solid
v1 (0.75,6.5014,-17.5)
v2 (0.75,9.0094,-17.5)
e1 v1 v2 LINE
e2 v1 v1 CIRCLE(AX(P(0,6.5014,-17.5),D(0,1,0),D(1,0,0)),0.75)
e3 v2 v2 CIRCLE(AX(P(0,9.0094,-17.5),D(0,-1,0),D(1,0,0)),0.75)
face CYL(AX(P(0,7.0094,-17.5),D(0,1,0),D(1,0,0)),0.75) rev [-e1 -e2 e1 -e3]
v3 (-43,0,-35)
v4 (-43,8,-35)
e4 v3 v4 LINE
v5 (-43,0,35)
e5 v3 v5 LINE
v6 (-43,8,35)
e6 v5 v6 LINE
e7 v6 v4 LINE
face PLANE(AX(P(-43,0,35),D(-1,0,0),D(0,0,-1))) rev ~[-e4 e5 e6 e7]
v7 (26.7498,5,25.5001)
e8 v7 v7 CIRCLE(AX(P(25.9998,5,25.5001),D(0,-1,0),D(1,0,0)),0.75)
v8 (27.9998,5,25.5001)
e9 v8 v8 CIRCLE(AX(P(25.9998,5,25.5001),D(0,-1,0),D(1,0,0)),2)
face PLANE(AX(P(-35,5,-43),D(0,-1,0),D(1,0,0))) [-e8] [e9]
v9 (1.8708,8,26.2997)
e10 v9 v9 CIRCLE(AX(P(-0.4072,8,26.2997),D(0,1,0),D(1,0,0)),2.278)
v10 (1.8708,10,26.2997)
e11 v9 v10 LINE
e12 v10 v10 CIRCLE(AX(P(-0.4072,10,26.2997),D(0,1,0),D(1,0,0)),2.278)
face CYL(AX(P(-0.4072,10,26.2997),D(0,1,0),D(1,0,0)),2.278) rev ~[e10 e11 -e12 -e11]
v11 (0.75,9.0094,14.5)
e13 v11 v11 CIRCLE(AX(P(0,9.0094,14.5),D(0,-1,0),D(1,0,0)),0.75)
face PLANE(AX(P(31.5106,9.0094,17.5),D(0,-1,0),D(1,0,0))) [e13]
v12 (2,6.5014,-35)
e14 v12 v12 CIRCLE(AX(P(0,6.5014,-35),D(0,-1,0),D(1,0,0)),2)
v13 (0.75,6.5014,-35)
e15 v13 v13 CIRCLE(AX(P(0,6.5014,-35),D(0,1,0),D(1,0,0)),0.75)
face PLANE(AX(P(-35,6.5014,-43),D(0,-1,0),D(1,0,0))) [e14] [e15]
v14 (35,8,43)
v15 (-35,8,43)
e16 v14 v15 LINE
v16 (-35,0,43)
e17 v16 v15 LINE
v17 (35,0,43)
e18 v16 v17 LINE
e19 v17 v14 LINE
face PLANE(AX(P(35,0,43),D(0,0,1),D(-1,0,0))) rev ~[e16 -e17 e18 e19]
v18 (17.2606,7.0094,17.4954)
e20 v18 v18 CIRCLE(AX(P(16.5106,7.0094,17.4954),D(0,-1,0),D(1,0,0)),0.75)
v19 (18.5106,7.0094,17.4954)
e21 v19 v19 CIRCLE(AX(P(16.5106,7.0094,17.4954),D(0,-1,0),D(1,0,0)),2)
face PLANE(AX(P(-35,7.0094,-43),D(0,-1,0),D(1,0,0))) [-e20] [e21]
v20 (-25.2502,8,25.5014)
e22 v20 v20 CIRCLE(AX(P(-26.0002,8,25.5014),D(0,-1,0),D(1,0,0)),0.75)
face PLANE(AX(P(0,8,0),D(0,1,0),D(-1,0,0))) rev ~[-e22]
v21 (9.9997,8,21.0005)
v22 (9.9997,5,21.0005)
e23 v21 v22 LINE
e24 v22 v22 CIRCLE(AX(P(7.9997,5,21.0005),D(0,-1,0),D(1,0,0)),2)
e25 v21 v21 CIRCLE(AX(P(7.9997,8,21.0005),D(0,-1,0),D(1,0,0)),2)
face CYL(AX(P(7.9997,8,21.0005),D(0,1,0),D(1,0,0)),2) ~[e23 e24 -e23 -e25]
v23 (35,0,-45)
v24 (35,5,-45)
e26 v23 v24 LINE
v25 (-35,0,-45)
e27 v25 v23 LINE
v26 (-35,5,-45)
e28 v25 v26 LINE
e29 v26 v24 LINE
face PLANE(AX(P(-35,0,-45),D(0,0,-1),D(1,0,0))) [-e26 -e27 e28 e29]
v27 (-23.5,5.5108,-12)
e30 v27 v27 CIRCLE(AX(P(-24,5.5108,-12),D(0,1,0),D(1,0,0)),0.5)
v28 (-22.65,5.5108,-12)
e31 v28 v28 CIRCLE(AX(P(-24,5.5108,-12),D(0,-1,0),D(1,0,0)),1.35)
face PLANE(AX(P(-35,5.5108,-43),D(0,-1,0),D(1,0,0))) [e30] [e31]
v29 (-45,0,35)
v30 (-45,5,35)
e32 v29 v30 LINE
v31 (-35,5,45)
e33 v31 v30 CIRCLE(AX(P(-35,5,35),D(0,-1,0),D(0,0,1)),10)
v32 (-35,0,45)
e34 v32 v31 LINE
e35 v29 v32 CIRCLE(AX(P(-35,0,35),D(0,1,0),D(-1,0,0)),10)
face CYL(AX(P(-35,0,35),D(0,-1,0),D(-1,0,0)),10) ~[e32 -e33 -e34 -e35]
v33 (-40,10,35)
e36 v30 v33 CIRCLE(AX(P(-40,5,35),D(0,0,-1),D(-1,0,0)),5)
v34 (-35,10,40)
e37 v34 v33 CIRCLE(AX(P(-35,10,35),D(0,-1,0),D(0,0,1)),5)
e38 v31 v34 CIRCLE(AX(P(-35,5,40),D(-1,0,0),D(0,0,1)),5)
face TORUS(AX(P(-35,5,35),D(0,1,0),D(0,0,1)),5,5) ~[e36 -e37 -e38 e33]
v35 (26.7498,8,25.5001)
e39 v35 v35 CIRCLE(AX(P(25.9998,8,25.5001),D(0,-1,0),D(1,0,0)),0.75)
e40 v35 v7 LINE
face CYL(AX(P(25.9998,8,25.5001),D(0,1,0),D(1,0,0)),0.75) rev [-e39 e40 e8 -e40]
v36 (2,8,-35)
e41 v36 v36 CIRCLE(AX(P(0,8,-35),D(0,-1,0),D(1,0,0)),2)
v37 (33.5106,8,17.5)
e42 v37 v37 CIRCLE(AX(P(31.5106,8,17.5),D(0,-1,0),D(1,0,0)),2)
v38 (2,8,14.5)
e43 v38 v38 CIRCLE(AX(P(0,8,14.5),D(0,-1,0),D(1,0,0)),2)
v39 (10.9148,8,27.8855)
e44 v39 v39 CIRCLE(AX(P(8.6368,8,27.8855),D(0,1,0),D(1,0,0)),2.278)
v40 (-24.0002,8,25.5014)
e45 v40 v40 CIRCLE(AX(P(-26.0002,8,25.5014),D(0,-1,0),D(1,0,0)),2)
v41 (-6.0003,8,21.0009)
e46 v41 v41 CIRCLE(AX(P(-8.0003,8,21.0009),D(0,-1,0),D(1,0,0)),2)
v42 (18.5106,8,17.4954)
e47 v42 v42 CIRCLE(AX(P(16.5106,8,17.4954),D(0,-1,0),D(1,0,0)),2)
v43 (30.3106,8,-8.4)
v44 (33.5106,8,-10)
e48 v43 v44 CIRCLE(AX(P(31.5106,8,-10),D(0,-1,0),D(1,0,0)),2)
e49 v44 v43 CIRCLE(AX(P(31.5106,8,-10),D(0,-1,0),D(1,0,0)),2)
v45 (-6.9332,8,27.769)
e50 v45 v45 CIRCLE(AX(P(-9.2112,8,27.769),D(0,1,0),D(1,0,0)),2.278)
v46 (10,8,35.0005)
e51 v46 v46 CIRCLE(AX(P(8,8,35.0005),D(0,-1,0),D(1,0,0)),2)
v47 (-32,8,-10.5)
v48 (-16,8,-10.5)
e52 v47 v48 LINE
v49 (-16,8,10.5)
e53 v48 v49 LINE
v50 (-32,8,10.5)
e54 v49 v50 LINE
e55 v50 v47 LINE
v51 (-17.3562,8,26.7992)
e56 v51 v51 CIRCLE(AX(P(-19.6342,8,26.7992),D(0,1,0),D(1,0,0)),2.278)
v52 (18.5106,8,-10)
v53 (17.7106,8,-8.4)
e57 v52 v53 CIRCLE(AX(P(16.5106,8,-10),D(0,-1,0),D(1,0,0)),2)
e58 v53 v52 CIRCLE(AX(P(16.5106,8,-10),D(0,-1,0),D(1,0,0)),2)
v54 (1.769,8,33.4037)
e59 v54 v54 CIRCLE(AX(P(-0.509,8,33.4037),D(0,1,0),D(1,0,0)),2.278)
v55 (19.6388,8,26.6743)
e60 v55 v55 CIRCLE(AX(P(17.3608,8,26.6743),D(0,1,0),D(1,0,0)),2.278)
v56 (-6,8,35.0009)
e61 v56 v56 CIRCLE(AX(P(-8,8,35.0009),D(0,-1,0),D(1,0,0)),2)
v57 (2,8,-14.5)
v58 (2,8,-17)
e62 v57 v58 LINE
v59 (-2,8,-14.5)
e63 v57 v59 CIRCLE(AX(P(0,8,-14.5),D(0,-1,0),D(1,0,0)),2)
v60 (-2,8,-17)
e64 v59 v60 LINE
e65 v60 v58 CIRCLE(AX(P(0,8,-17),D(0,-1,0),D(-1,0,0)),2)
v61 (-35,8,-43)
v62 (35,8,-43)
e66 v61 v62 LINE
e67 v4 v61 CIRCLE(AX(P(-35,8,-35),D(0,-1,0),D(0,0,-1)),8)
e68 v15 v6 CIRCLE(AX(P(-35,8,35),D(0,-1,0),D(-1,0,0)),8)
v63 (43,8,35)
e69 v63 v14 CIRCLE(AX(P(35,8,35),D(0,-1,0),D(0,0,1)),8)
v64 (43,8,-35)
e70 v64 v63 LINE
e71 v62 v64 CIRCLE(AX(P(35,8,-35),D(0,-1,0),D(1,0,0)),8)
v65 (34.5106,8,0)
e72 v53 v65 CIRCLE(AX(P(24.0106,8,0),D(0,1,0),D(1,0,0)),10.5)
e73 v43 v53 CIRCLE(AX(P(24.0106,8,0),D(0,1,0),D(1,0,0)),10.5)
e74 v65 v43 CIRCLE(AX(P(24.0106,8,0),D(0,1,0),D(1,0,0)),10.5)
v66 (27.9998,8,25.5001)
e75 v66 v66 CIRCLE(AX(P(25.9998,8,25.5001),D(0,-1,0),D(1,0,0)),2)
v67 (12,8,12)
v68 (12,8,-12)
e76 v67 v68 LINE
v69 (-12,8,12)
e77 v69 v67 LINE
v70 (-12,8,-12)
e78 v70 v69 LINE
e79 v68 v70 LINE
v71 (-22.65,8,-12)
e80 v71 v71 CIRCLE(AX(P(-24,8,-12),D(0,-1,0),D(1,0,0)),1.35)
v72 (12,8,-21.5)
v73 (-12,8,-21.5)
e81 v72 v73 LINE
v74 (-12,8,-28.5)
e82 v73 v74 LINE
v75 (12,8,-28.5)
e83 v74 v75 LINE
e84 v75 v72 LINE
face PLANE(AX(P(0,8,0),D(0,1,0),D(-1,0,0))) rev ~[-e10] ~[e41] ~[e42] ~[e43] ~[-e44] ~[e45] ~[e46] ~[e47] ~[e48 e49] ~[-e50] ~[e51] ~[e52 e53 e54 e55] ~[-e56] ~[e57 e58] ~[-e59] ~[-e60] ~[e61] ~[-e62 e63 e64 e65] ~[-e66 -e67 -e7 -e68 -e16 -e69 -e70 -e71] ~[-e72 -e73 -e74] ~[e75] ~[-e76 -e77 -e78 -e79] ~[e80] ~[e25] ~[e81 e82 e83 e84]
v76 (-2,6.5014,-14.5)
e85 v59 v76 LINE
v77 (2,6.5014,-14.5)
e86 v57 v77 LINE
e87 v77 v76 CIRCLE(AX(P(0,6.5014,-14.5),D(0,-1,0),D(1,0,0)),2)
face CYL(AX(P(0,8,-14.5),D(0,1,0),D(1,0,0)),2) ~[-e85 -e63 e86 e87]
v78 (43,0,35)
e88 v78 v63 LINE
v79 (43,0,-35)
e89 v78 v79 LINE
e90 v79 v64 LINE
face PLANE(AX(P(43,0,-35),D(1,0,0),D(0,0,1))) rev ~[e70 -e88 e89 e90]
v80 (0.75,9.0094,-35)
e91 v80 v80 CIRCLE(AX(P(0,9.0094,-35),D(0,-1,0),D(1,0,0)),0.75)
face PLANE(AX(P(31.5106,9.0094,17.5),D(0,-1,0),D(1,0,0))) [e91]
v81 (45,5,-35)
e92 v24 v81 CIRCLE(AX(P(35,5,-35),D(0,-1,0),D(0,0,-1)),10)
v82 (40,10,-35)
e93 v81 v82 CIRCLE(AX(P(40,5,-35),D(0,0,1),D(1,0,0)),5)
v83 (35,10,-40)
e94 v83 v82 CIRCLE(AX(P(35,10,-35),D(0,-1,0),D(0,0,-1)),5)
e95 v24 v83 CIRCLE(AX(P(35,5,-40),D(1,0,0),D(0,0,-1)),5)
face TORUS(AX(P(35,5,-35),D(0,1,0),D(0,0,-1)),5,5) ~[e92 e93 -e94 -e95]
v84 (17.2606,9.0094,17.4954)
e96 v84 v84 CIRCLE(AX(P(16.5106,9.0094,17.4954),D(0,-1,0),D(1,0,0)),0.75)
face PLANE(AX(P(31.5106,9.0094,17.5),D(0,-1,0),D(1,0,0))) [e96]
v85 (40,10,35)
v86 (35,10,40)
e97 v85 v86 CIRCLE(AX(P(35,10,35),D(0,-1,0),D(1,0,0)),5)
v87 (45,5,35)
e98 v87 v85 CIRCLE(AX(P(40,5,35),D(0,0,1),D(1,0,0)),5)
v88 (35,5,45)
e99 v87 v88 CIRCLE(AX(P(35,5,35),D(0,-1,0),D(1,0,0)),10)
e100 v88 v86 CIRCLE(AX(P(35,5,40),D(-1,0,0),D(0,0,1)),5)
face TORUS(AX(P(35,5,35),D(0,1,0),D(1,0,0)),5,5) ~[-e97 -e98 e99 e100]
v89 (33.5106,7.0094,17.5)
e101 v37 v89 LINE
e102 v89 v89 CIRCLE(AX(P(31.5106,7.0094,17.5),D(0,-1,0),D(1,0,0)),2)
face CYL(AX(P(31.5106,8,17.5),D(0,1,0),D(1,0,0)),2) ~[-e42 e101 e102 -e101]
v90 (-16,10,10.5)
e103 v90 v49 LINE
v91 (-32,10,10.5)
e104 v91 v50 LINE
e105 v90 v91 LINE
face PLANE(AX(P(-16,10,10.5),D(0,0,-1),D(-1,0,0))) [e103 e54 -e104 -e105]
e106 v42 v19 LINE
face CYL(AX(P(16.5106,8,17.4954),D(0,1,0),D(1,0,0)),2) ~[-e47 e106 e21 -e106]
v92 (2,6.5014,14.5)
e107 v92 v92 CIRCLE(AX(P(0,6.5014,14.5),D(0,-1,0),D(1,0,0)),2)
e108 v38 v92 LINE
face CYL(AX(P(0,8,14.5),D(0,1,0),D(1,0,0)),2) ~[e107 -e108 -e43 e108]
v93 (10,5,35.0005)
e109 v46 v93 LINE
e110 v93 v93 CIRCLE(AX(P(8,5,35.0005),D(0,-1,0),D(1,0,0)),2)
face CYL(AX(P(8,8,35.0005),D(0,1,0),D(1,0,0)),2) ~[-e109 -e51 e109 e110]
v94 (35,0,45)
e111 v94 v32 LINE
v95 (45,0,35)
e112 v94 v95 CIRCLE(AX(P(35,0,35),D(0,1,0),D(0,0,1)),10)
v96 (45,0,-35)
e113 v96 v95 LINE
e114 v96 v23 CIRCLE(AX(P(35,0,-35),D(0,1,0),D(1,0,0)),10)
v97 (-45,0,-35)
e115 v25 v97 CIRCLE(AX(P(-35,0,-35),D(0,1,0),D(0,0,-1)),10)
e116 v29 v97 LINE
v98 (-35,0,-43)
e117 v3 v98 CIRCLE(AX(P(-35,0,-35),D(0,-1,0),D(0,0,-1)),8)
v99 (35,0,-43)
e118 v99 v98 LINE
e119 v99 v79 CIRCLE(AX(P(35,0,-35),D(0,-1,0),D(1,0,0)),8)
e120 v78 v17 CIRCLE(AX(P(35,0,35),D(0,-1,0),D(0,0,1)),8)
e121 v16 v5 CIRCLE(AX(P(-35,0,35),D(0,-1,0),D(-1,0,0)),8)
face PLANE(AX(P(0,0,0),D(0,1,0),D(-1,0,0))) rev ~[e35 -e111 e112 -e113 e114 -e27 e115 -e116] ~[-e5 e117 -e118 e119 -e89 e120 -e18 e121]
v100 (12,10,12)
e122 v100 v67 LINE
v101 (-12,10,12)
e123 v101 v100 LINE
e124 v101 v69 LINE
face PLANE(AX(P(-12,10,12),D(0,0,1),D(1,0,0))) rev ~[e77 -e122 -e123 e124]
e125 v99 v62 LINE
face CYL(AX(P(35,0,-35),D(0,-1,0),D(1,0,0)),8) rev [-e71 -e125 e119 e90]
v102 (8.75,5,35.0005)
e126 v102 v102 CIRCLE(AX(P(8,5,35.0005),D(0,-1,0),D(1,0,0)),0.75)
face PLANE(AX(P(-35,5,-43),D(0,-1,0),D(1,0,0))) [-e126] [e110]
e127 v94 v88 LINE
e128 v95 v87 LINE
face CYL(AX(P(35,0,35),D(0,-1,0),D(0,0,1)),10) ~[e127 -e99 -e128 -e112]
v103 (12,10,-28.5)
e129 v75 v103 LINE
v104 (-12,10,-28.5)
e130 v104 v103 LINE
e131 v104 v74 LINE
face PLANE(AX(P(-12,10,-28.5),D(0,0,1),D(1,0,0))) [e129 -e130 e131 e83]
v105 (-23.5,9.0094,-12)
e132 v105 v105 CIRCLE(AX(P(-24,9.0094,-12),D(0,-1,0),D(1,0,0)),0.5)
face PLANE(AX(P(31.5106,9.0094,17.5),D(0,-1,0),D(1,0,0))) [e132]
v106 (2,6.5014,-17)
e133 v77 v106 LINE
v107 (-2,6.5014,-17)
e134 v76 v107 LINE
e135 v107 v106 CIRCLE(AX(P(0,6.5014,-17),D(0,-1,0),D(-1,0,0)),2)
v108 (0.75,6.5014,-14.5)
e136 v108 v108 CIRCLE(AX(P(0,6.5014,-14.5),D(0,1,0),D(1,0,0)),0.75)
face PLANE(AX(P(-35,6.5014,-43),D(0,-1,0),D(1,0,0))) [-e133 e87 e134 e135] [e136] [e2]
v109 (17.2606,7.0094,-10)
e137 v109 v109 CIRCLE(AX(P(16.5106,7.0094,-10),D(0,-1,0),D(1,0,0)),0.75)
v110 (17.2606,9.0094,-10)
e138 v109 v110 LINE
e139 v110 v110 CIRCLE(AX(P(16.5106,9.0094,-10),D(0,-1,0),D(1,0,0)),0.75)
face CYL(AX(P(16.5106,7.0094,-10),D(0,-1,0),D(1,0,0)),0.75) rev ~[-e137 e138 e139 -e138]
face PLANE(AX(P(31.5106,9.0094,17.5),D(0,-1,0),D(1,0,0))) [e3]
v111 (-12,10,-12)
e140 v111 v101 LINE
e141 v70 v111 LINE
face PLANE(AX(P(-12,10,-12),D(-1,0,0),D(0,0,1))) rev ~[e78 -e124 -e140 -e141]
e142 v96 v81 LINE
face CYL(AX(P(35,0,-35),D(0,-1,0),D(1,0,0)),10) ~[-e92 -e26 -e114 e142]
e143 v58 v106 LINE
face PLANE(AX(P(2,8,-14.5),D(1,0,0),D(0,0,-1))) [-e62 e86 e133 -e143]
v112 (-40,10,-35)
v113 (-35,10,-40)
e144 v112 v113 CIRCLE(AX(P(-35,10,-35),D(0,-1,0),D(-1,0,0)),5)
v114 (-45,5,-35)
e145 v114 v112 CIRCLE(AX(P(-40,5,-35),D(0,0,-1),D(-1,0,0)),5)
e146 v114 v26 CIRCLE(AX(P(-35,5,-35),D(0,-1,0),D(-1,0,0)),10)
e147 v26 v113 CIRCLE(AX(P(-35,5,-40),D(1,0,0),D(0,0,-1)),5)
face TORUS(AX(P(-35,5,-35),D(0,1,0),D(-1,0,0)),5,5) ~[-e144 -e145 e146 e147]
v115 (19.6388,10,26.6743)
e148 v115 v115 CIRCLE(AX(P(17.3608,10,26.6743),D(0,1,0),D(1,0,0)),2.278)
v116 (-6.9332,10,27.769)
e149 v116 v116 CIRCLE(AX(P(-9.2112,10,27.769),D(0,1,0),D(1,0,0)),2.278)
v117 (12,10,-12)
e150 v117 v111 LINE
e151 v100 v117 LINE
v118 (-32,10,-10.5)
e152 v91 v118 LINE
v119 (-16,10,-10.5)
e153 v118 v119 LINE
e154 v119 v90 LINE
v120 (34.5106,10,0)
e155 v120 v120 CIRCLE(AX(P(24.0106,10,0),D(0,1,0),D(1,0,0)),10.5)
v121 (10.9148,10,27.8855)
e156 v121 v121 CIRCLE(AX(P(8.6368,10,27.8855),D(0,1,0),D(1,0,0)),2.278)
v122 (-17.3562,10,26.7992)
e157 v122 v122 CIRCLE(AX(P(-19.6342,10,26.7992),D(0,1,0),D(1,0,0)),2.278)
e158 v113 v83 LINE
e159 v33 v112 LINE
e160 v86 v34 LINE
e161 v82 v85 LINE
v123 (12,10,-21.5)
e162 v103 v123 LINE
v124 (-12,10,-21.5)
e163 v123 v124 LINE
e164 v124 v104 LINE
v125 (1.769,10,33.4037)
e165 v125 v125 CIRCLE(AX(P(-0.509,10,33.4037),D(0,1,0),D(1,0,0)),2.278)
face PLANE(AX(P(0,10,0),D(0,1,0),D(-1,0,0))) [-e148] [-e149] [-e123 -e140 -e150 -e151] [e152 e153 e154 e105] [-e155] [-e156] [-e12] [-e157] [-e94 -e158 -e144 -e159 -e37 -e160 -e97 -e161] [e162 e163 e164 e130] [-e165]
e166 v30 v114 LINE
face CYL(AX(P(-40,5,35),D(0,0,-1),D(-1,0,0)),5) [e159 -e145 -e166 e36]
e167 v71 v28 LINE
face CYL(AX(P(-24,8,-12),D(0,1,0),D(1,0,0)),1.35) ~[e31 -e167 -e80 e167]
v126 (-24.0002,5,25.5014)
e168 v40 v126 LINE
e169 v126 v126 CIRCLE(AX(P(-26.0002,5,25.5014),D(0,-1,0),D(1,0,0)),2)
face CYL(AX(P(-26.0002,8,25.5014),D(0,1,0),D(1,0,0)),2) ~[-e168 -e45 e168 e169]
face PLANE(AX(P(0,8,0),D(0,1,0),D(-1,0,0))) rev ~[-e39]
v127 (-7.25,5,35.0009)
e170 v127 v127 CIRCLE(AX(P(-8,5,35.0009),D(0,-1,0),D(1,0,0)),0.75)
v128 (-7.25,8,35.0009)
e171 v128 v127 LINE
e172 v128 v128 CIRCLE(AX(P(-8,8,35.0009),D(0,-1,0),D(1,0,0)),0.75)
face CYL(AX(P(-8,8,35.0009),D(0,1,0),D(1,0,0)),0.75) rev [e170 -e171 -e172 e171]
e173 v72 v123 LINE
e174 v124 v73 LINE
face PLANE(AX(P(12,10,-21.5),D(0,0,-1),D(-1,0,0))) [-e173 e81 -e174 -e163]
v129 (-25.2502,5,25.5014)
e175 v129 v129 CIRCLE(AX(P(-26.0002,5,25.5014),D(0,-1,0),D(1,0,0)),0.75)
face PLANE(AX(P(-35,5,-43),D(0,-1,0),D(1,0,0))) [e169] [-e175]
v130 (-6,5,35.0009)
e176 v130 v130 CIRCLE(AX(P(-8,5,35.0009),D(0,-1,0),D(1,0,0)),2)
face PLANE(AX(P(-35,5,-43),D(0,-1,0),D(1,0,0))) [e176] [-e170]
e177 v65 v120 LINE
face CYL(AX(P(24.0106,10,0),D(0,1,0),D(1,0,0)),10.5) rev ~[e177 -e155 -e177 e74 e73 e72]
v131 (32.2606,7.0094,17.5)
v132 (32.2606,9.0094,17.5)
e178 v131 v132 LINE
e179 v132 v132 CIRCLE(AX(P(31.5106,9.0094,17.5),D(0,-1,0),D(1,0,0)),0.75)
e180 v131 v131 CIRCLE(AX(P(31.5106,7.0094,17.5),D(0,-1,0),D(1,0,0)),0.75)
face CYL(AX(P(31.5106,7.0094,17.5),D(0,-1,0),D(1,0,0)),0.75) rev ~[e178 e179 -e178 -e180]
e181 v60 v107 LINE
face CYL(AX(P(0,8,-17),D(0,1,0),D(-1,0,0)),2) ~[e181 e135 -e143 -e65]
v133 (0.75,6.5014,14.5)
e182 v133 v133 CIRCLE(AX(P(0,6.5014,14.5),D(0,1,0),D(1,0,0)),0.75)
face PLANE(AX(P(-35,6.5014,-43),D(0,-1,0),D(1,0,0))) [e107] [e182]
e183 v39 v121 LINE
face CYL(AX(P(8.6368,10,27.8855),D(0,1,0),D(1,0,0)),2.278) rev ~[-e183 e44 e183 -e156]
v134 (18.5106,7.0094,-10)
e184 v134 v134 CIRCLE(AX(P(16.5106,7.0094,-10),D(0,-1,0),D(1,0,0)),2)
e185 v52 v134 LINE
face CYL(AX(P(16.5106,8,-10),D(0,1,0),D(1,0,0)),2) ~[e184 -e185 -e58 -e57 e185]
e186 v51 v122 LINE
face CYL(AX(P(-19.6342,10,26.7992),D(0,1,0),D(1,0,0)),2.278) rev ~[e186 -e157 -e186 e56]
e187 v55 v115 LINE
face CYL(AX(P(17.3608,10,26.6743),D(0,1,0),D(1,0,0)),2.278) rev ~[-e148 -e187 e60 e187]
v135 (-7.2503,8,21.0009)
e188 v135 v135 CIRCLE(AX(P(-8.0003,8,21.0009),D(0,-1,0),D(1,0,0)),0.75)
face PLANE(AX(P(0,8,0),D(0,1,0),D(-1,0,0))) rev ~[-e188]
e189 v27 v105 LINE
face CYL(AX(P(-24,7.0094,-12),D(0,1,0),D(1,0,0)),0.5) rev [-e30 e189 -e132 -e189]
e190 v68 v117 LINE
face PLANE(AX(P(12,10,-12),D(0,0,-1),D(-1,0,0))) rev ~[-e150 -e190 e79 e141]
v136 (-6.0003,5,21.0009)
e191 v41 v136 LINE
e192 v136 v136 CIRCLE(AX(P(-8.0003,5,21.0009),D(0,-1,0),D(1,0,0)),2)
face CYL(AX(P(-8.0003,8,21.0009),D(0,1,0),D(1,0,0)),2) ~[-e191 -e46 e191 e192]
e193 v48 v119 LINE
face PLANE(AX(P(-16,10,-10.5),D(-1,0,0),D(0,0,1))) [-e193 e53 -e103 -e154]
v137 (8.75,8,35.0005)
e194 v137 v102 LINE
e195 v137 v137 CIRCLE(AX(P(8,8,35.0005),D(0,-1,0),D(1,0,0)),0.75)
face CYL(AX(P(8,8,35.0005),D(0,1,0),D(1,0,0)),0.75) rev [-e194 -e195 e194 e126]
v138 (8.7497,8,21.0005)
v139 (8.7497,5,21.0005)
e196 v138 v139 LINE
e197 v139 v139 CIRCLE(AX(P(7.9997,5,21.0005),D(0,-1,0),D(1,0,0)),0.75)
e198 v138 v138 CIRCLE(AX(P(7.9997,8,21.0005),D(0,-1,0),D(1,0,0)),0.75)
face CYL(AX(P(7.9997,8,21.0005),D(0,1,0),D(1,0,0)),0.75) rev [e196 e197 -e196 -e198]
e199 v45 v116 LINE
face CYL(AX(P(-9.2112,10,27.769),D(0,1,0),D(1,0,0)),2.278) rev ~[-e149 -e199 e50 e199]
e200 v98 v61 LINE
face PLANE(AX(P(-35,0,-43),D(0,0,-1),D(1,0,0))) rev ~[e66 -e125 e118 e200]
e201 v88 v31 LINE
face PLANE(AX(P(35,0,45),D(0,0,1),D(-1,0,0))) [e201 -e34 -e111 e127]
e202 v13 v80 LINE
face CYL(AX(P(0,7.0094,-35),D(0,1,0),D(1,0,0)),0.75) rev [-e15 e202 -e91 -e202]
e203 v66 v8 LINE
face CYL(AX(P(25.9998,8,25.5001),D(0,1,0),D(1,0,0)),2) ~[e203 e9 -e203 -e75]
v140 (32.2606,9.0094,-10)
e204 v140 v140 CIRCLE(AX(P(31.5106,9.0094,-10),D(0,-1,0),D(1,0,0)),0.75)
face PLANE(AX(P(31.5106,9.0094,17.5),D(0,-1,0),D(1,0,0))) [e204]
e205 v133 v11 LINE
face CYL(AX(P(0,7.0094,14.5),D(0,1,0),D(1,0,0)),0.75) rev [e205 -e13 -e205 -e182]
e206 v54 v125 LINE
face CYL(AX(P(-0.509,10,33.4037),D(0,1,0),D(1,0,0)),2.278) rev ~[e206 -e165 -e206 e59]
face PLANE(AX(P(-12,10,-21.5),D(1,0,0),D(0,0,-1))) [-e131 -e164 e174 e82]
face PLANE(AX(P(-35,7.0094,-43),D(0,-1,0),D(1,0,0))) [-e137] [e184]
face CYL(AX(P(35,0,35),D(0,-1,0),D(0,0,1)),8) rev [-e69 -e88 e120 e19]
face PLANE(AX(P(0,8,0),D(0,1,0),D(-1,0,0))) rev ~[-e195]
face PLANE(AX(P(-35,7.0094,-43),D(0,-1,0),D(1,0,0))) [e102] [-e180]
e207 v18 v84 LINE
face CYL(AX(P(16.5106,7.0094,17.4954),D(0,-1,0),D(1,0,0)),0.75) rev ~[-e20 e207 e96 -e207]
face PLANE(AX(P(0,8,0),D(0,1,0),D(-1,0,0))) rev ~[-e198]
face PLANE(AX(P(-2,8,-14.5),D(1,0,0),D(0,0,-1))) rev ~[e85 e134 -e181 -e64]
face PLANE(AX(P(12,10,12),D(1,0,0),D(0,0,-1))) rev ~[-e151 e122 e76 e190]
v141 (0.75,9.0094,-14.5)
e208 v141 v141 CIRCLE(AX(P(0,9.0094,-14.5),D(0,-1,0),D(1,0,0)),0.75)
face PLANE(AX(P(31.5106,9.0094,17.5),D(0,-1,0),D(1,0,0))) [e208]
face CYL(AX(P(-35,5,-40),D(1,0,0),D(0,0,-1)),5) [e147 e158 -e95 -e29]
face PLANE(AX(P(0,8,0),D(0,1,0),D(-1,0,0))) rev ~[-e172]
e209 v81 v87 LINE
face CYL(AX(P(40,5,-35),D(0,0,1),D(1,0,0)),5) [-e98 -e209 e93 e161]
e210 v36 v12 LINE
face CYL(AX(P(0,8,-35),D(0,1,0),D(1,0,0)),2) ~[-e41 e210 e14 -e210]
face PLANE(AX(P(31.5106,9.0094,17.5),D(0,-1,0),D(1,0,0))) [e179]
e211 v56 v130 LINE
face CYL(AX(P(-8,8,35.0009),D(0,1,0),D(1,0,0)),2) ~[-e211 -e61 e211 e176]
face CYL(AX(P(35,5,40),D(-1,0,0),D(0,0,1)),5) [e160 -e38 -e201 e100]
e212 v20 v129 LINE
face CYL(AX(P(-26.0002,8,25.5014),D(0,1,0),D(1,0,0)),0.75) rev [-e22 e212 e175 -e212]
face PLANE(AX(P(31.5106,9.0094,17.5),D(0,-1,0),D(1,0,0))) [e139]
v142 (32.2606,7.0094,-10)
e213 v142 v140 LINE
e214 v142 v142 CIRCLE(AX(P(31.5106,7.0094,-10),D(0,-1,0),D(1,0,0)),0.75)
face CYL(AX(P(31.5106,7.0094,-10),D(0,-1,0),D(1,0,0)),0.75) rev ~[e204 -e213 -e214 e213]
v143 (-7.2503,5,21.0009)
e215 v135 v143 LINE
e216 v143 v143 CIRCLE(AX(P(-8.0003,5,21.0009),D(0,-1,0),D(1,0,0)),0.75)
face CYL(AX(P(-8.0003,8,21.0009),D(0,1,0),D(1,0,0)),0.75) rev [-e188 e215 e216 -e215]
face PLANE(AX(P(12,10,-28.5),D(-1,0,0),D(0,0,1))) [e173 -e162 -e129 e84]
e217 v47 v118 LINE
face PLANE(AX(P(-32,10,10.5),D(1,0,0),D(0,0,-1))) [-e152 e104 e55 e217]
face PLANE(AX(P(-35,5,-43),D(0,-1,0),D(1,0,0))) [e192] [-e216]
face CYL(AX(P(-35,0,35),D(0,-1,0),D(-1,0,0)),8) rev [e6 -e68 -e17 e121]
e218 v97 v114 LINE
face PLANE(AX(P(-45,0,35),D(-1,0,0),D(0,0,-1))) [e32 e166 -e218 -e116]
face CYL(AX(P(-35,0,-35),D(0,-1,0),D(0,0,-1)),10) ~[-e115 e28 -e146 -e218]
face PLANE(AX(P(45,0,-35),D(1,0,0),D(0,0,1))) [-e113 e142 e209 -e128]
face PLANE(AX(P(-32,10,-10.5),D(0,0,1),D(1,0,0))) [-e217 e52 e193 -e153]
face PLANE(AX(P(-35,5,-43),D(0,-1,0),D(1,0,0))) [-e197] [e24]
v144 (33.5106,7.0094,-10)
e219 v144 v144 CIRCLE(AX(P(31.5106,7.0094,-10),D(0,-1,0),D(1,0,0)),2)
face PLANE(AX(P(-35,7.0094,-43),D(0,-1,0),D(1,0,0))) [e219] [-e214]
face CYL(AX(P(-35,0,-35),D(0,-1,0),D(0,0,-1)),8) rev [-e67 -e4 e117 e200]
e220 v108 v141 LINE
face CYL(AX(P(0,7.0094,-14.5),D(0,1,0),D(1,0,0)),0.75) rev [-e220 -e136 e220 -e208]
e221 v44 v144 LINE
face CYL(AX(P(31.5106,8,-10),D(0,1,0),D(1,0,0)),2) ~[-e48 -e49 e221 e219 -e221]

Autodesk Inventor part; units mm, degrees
ref_plane "YZ Plane" through (0, 0, 0) normal (1, 0, 0) x (0, 1, 0)
ref_plane "XZ Plane" through (0, 0, 0) normal (0, 1, 0) x (-1, 0, 0)
sketch "Sketch1" plane through (0, 0, 0) normal (0, 1, 0) x (-1, 0, 0)
  line L0 (45, 35) -> (45, -35)
  line L1 (35, -45) -> (-35, -45)
  line L2 (-45, -35) -> (-45, 35)
  line L3 (-35, 45) -> (35, 45)
  line L4 (45, 45) -> (-45, -45) construction
  line L5 (45, -45) -> (-45, 45) construction
  arc A0 (35, -45) -> (45, -35) centre (35, -35) ccw
  arc A1 (-45, -35) -> (-35, -45) centre (-35, -35) ccw
  arc A2 (-35, 45) -> (-45, 35) centre (-35, 35) ccw
  arc A3 (45, 35) -> (35, 45) centre (35, 35) ccw
  point P0 (0, 0)
  dimension "d0" = 90
  dimension "d1" = 90
  dimension "d10" = 10
extrude "Extrusion1" add sketch "Sketch1" along normal blind 10
shell "Shell2" thickness 2 removed faces 1 at (-11.6667, 0, -15)
fillet "Fillet1" radius 5 1 edges at (-45, 10, 0)
sketch "Sketch2" plane through (0, 10, 0) normal (0, 1, 0) x (1, 0, 0)
  circle A0 centre (24.0106, 0) radius 10 projected
  line L0 (-11.5, 11.5) -> (11.5, 11.5) projected
  line L1 (-11.5, -11.5) -> (-11.5, 11.5) projected
  line L2 (11.5, -11.5) -> (-11.5, -11.5) projected
  line L3 (11.5, 11.5) -> (11.5, -11.5) projected
  line L4 (-31.5, -10) -> (-16.5, -10) projected
  line L5 (-16.5, -10) -> (-16.5, 10) projected
  line L6 (-16.5, 10) -> (-31.5, 10) projected
  line L7 (-31.5, 10) -> (-31.5, -10) projected
  line L8 (-11.5, 22) -> (11.5, 22) projected
  line L9 (11.5, 22) -> (11.5, 28) projected
  line L10 (11.5, 28) -> (-11.5, 28) projected
  line L11 (-11.5, 28) -> (-11.5, 22) projected
  line L12 (12, 21.5) -> (-12, 21.5)
  line L13 (-12, 21.5) -> (-12, 28.5)
  line L14 (-12, 28.5) -> (12, 28.5)
  line L15 (12, 28.5) -> (12, 21.5)
  circle A1 centre (24.0106, 0) radius 10.5
  line L16 (12, 12) -> (-12, 12)
  line L17 (-12, 12) -> (-12, -12)
  line L18 (-12, -12) -> (12, -12)
  line L19 (12, -12) -> (12, 12)
  line L20 (-16, 10.5) -> (-16, -10.5)
  line L21 (-16, -10.5) -> (-32, -10.5)
  line L22 (-32, -10.5) -> (-32, 10.5)
  line L23 (-32, 10.5) -> (-16, 10.5)
  point P0 (0, 0)
  dimension "d13" = 0.5
  dimension "d14" = 0.5
  dimension "d15" = 0.5
  dimension "d16" = 0.5
extrude "Extrusion2" cut sketch "Sketch2" along normal through all both and the other way through all contours A0 | L0 L3 L2 L1 | L7 L6 L5 L4 | L11 L10 L9 L8 | L12 L13 L14 L15 | A1 | L19 L18 L17 L16 | L20 L21 L22 L23
sketch "Sketch3" plane through (-35, 8, -43) normal (0, -1, 0) x (1, 0, 0)
  circle A0 centre (35, 28.5) radius 1 projected
  circle A1 centre (35, 57.5) radius 1 projected
  circle A2 centre (51.5106, 33) radius 1.5 projected
  circle A3 centre (66.5106, 33) radius 1.5 projected
  circle A4 centre (51.5106, 60.4954) radius 1.5 projected
  circle A5 centre (66.5106, 60.5) radius 1.5 projected
  circle A6 centre (11, 31) radius 1.5 projected
  arc A7 (37, 28.5) -> (33, 28.5) centre (35, 28.5) ccw
  circle A8 centre (35, 57.5) radius 2
  circle A9 centre (51.5106, 33) radius 2
  circle A10 centre (51.5106, 60.4954) radius 2
  circle A11 centre (66.5106, 60.5) radius 2
  circle A12 centre (66.5106, 33) radius 2
  circle A13 centre (11, 31) radius 1.35
  arc A14 (33, 26) -> (37, 26) centre (35, 26) ccw
  line L0 (53.5, 23) -> (15.5, 23) projected
  line L1 (33, 28.5) -> (33, 26)
  line L2 (37, 28.5) -> (37, 26)
  point P0 (35, 43)
  dimension "d19" = 4
  dimension "d20" = 4
  dimension "d21" = 4
  dimension "d22" = 2.7
  dimension "d32" = 3
extrude "Extrusion3" add sketch "Sketch3" along normal blind 1.4986 contours A0 | A1 | L2 A14 L1 A7 | A8
sketch "Sketch4" plane through (-35, 8, -43) normal (0, -1, 0) x (1, 0, 0)
  circle A0 centre (51.5106, 60.4954) radius 2 projected
  circle A1 centre (66.5106, 60.5) radius 2 projected
  circle A2 centre (66.5106, 33) radius 2 projected
  circle A3 centre (51.5106, 33) radius 2 projected
  point P0 (35, 43)
extrude "Extrusion4" add sketch "Sketch4" along normal blind 0.9906
sketch "Sketch5" plane through (-35, 8, -43) normal (0, -1, 0) x (1, 0, 0)
  circle A0 centre (11, 31) radius 1.35 projected
  point P0 (35, 43)
extrude "Extrusion5" add sketch "Sketch5" along normal blind 2.4892
sketch "Sketch6" plane through (-35, 8, -43) normal (0, -1, 0) x (1, 0, 0)
  circle A0 centre (35, 8) radius 2
  circle A1 centre (35, 28.5) radius 2 projected
  line L0 (15.5, 11) -> (53.5, 11) projected
  point P0 (35, 43)
  dimension "d29" = 3
extrude "Extrusion6" add sketch "Sketch6" along normal blind 1.4986 contours A0
sketch "Sketch7" plane through (31.5106, 7.0094, 17.5) normal (0, -1, 0) x (1, 0, 0)
  circle A0 centre (0, 0) radius 2 projected
  circle A1 centre (-15, -0.0046) radius 2 projected
  circle A2 centre (-31.5106, -3) radius 2 projected
  circle A3 centre (-31.5106, -52.5) radius 2 projected
  circle A4 centre (-55.5106, -29.5) radius 1.35 projected
  line L0 (3.4894, -60.5) -> (-66.5106, -60.5) projected
  arc A5 (3.4894, -60.5) -> (11.4894, -52.5) centre (3.4894, -52.5) ccw projected
  line L1 (11.4894, 17.5) -> (11.4894, -52.5) projected
  arc A6 (11.4894, 17.5) -> (3.4894, 25.5) centre (3.4894, 17.5) ccw projected
  line L2 (-66.5106, 25.5) -> (3.4894, 25.5) projected
  arc A7 (-66.5106, 25.5) -> (-74.5106, 17.5) centre (-66.5106, 17.5) ccw projected
  line L3 (-74.5106, -52.5) -> (-74.5106, 17.5) projected
  arc A8 (-74.5106, -52.5) -> (-66.5106, -60.5) centre (-66.5106, -52.5) ccw projected
  line L4 (-19.5106, -5.5) -> (-19.5106, -29.5) projected
  line L5 (-19.5106, -29.5) -> (-43.5106, -29.5) projected
  line L6 (-43.5106, -29.5) -> (-43.5106, -5.5) projected
  line L7 (-43.5106, -5.5) -> (-19.5106, -5.5) projected
  line L8 (-63.5106, -7) -> (-47.5106, -7) projected
  line L9 (-47.5106, -7) -> (-47.5106, -28) projected
  line L10 (-47.5106, -28) -> (-63.5106, -28) projected
  line L11 (-63.5106, -28) -> (-63.5106, -7) projected
  line L12 (-43.5106, -46) -> (-43.5106, -39) projected
  line L13 (-43.5106, -39) -> (-19.5106, -39) projected
  line L14 (-19.5106, -39) -> (-19.5106, -46) projected
  line L15 (-19.5106, -46) -> (-43.5106, -46) projected
  arc A9 (-1.2, -25.9) -> (-13.8, -25.9) centre (-7.5, -17.5) ccw projected
  circle A10 centre (0, -27.5) radius 2 projected
  arc A11 (-13.8, -25.9) -> (-1.2, -25.9) centre (-7.5, -17.5) ccw projected
  circle A12 centre (-15, -27.5) radius 2 projected
  circle A13 centre (-31.5106, -3) radius 2 projected
  arc A14 (-29.5106, -32) -> (-33.5106, -32) centre (-31.5106, -32) ccw projected
  line L16 (-29.5106, -32) -> (-29.5106, -34.5) projected
  arc A15 (-33.5106, -34.5) -> (-29.5106, -34.5) centre (-31.5106, -34.5) ccw projected
  line L17 (-33.5106, -34.5) -> (-33.5106, -32) projected
  circle A16 centre (0, 0) radius 2 projected
  circle A17 centre (-15, -0.0046) radius 2 projected
  circle A18 centre (0, 0) radius 0.75
  circle A19 centre (-15, -0.0046) radius 2 projected
  circle A20 centre (-15, -0.0046) radius 0.75
  circle A21 centre (-31.5106, -3) radius 2 projected
  circle A22 centre (-31.5106, -3) radius 0.75
  circle A23 centre (-15, -27.5) radius 2 projected
  circle A24 centre (-15, -27.5) radius 0.75
  arc A25 (-29.5106, -32) -> (-33.5106, -32) centre (-31.5106, -32) ccw projected
  circle A26 centre (-31.5106, -32) radius 0.75
  circle A27 centre (0, -27.5) radius 0.75
  circle A28 centre (-31.5106, -35) radius 0.75
  circle A29 centre (-55.5106, -29.5) radius 0.5
  circle A30 centre (-31.5106, -52.5) radius 0.75
  point P0 (-31.5106, -17.5)
  dimension "d33" = 0.5
  dimension "d34" = 1.5
  dimension "d35" = 1
extrude "Extrusion7" cut sketch "Sketch7" along normal mid plane 4 contours A18 | A20 | A22 | A24 | A26 | A27 | A28 | A29 | A30
sketch "Sketch8" plane through (0, 0, 0) normal (0, -1, 0) x (1, 0, 0)
  arc A0 (35, -43) -> (43, -35) centre (35, -35) ccw projected
  line L0 (35, -43) -> (-35, -43) projected
  arc A1 (-43, -35) -> (-35, -43) centre (-35, -35) ccw projected
  line L1 (-43, -35) -> (-43, 35) projected
  arc A2 (-35, 43) -> (-43, 35) centre (-35, 35) ccw projected
  line L2 (-35, 43) -> (35, 43) projected
  arc A3 (43, 35) -> (35, 43) centre (35, 35) ccw projected
  line L3 (43, 35) -> (43, -35) projected
  line L4 (-35, -45) -> (35, -45) projected
  arc A4 (35, -45) -> (45, -35) centre (35, -35) ccw projected
  line L5 (45, -35) -> (45, 35) projected
  arc A5 (45, 35) -> (35, 45) centre (35, 35) ccw projected
  line L6 (35, 45) -> (-35, 45) projected
  arc A6 (-35, 45) -> (-45, 35) centre (-35, 35) ccw projected
  line L7 (-45, 35) -> (-45, -35) projected
  arc A7 (-45, -35) -> (-35, -45) centre (-35, -35) ccw projected
  circle A8 centre (0, 0) radius 39.5
  dimension "d38" = 79
sketch "Sketch9" plane through (0, 10, 0) normal (0, 1, 0) x (1, 0, 0)
  circle A0 centre (-19.6342, -26.7992) radius 1.778 projected
  circle A1 centre (-9.2112, -27.769) radius 1.778 projected
  circle A2 centre (-0.509, -33.4037) radius 1.778 projected
  circle A3 centre (-0.4072, -26.2997) radius 1.778 projected
  circle A4 centre (8.6368, -27.8855) radius 1.778 projected
  circle A5 centre (17.3608, -26.6743) radius 1.778 projected
  circle A6 centre (-19.6342, -26.7992) radius 2.278
  circle A7 centre (-9.2112, -27.769) radius 2.278
  circle A8 centre (-0.4072, -26.2997) radius 2.278
  circle A9 centre (-0.509, -33.4037) radius 2.278
  circle A10 centre (8.6368, -27.8855) radius 2.278
  circle A11 centre (17.3608, -26.6743) radius 2.278
  point P0 (0, 0)
  dimension "d39" = 0.5
extrude "Extrusion8" cut sketch "Sketch9" along normal through all both and the other way through all contours A0 | A1 | A2 | A3 | A4 | A5 | A6 | A7 | A8 | A9 | A10 | A11
sketch "Sketch10" plane through (-35, 8, -43) normal (0, -1, 0) x (1, 0, 0)
  circle A0 centre (8.9998, 68.5014) radius 1.5 construction
  circle A1 centre (27, 78.0009) radius 1.5 construction
  circle A2 centre (26.9997, 64.0009) radius 1.5 construction
  circle A3 centre (43, 78.0005) radius 1.5 construction
  circle A4 centre (42.9997, 64.0005) radius 1.5 construction
  circle A5 centre (60.9998, 68.5001) radius 1.5 construction
  circle A6 centre (8.9998, 68.5014) radius 2
  circle A7 centre (27, 78.0009) radius 2
  circle A8 centre (26.9997, 64.0009) radius 2
  circle A9 centre (42.9997, 64.0005) radius 2
  circle A10 centre (43, 78.0005) radius 2
  circle A11 centre (60.9998, 68.5001) radius 2
  circle A12 centre (8.9998, 68.5014) radius 0.75
  circle A13 centre (27, 78.0009) radius 0.75
  circle A14 centre (26.9997, 64.0009) radius 0.75
  circle A15 centre (43, 78.0005) radius 0.75
  circle A16 centre (42.9997, 64.0005) radius 0.75
  circle A17 centre (60.9998, 68.5001) radius 0.75
  point P0 (35, 43)
  dimension "d42" = 4
  dimension "d43" = 1.5
extrude "Extrusion9" add sketch "Sketch10" along normal blind 3
equation "\"d13\" = d14"
equation "\"d15\" = d14"
equation "\"d16\" = d14"
properties material "LCP Plastic"
